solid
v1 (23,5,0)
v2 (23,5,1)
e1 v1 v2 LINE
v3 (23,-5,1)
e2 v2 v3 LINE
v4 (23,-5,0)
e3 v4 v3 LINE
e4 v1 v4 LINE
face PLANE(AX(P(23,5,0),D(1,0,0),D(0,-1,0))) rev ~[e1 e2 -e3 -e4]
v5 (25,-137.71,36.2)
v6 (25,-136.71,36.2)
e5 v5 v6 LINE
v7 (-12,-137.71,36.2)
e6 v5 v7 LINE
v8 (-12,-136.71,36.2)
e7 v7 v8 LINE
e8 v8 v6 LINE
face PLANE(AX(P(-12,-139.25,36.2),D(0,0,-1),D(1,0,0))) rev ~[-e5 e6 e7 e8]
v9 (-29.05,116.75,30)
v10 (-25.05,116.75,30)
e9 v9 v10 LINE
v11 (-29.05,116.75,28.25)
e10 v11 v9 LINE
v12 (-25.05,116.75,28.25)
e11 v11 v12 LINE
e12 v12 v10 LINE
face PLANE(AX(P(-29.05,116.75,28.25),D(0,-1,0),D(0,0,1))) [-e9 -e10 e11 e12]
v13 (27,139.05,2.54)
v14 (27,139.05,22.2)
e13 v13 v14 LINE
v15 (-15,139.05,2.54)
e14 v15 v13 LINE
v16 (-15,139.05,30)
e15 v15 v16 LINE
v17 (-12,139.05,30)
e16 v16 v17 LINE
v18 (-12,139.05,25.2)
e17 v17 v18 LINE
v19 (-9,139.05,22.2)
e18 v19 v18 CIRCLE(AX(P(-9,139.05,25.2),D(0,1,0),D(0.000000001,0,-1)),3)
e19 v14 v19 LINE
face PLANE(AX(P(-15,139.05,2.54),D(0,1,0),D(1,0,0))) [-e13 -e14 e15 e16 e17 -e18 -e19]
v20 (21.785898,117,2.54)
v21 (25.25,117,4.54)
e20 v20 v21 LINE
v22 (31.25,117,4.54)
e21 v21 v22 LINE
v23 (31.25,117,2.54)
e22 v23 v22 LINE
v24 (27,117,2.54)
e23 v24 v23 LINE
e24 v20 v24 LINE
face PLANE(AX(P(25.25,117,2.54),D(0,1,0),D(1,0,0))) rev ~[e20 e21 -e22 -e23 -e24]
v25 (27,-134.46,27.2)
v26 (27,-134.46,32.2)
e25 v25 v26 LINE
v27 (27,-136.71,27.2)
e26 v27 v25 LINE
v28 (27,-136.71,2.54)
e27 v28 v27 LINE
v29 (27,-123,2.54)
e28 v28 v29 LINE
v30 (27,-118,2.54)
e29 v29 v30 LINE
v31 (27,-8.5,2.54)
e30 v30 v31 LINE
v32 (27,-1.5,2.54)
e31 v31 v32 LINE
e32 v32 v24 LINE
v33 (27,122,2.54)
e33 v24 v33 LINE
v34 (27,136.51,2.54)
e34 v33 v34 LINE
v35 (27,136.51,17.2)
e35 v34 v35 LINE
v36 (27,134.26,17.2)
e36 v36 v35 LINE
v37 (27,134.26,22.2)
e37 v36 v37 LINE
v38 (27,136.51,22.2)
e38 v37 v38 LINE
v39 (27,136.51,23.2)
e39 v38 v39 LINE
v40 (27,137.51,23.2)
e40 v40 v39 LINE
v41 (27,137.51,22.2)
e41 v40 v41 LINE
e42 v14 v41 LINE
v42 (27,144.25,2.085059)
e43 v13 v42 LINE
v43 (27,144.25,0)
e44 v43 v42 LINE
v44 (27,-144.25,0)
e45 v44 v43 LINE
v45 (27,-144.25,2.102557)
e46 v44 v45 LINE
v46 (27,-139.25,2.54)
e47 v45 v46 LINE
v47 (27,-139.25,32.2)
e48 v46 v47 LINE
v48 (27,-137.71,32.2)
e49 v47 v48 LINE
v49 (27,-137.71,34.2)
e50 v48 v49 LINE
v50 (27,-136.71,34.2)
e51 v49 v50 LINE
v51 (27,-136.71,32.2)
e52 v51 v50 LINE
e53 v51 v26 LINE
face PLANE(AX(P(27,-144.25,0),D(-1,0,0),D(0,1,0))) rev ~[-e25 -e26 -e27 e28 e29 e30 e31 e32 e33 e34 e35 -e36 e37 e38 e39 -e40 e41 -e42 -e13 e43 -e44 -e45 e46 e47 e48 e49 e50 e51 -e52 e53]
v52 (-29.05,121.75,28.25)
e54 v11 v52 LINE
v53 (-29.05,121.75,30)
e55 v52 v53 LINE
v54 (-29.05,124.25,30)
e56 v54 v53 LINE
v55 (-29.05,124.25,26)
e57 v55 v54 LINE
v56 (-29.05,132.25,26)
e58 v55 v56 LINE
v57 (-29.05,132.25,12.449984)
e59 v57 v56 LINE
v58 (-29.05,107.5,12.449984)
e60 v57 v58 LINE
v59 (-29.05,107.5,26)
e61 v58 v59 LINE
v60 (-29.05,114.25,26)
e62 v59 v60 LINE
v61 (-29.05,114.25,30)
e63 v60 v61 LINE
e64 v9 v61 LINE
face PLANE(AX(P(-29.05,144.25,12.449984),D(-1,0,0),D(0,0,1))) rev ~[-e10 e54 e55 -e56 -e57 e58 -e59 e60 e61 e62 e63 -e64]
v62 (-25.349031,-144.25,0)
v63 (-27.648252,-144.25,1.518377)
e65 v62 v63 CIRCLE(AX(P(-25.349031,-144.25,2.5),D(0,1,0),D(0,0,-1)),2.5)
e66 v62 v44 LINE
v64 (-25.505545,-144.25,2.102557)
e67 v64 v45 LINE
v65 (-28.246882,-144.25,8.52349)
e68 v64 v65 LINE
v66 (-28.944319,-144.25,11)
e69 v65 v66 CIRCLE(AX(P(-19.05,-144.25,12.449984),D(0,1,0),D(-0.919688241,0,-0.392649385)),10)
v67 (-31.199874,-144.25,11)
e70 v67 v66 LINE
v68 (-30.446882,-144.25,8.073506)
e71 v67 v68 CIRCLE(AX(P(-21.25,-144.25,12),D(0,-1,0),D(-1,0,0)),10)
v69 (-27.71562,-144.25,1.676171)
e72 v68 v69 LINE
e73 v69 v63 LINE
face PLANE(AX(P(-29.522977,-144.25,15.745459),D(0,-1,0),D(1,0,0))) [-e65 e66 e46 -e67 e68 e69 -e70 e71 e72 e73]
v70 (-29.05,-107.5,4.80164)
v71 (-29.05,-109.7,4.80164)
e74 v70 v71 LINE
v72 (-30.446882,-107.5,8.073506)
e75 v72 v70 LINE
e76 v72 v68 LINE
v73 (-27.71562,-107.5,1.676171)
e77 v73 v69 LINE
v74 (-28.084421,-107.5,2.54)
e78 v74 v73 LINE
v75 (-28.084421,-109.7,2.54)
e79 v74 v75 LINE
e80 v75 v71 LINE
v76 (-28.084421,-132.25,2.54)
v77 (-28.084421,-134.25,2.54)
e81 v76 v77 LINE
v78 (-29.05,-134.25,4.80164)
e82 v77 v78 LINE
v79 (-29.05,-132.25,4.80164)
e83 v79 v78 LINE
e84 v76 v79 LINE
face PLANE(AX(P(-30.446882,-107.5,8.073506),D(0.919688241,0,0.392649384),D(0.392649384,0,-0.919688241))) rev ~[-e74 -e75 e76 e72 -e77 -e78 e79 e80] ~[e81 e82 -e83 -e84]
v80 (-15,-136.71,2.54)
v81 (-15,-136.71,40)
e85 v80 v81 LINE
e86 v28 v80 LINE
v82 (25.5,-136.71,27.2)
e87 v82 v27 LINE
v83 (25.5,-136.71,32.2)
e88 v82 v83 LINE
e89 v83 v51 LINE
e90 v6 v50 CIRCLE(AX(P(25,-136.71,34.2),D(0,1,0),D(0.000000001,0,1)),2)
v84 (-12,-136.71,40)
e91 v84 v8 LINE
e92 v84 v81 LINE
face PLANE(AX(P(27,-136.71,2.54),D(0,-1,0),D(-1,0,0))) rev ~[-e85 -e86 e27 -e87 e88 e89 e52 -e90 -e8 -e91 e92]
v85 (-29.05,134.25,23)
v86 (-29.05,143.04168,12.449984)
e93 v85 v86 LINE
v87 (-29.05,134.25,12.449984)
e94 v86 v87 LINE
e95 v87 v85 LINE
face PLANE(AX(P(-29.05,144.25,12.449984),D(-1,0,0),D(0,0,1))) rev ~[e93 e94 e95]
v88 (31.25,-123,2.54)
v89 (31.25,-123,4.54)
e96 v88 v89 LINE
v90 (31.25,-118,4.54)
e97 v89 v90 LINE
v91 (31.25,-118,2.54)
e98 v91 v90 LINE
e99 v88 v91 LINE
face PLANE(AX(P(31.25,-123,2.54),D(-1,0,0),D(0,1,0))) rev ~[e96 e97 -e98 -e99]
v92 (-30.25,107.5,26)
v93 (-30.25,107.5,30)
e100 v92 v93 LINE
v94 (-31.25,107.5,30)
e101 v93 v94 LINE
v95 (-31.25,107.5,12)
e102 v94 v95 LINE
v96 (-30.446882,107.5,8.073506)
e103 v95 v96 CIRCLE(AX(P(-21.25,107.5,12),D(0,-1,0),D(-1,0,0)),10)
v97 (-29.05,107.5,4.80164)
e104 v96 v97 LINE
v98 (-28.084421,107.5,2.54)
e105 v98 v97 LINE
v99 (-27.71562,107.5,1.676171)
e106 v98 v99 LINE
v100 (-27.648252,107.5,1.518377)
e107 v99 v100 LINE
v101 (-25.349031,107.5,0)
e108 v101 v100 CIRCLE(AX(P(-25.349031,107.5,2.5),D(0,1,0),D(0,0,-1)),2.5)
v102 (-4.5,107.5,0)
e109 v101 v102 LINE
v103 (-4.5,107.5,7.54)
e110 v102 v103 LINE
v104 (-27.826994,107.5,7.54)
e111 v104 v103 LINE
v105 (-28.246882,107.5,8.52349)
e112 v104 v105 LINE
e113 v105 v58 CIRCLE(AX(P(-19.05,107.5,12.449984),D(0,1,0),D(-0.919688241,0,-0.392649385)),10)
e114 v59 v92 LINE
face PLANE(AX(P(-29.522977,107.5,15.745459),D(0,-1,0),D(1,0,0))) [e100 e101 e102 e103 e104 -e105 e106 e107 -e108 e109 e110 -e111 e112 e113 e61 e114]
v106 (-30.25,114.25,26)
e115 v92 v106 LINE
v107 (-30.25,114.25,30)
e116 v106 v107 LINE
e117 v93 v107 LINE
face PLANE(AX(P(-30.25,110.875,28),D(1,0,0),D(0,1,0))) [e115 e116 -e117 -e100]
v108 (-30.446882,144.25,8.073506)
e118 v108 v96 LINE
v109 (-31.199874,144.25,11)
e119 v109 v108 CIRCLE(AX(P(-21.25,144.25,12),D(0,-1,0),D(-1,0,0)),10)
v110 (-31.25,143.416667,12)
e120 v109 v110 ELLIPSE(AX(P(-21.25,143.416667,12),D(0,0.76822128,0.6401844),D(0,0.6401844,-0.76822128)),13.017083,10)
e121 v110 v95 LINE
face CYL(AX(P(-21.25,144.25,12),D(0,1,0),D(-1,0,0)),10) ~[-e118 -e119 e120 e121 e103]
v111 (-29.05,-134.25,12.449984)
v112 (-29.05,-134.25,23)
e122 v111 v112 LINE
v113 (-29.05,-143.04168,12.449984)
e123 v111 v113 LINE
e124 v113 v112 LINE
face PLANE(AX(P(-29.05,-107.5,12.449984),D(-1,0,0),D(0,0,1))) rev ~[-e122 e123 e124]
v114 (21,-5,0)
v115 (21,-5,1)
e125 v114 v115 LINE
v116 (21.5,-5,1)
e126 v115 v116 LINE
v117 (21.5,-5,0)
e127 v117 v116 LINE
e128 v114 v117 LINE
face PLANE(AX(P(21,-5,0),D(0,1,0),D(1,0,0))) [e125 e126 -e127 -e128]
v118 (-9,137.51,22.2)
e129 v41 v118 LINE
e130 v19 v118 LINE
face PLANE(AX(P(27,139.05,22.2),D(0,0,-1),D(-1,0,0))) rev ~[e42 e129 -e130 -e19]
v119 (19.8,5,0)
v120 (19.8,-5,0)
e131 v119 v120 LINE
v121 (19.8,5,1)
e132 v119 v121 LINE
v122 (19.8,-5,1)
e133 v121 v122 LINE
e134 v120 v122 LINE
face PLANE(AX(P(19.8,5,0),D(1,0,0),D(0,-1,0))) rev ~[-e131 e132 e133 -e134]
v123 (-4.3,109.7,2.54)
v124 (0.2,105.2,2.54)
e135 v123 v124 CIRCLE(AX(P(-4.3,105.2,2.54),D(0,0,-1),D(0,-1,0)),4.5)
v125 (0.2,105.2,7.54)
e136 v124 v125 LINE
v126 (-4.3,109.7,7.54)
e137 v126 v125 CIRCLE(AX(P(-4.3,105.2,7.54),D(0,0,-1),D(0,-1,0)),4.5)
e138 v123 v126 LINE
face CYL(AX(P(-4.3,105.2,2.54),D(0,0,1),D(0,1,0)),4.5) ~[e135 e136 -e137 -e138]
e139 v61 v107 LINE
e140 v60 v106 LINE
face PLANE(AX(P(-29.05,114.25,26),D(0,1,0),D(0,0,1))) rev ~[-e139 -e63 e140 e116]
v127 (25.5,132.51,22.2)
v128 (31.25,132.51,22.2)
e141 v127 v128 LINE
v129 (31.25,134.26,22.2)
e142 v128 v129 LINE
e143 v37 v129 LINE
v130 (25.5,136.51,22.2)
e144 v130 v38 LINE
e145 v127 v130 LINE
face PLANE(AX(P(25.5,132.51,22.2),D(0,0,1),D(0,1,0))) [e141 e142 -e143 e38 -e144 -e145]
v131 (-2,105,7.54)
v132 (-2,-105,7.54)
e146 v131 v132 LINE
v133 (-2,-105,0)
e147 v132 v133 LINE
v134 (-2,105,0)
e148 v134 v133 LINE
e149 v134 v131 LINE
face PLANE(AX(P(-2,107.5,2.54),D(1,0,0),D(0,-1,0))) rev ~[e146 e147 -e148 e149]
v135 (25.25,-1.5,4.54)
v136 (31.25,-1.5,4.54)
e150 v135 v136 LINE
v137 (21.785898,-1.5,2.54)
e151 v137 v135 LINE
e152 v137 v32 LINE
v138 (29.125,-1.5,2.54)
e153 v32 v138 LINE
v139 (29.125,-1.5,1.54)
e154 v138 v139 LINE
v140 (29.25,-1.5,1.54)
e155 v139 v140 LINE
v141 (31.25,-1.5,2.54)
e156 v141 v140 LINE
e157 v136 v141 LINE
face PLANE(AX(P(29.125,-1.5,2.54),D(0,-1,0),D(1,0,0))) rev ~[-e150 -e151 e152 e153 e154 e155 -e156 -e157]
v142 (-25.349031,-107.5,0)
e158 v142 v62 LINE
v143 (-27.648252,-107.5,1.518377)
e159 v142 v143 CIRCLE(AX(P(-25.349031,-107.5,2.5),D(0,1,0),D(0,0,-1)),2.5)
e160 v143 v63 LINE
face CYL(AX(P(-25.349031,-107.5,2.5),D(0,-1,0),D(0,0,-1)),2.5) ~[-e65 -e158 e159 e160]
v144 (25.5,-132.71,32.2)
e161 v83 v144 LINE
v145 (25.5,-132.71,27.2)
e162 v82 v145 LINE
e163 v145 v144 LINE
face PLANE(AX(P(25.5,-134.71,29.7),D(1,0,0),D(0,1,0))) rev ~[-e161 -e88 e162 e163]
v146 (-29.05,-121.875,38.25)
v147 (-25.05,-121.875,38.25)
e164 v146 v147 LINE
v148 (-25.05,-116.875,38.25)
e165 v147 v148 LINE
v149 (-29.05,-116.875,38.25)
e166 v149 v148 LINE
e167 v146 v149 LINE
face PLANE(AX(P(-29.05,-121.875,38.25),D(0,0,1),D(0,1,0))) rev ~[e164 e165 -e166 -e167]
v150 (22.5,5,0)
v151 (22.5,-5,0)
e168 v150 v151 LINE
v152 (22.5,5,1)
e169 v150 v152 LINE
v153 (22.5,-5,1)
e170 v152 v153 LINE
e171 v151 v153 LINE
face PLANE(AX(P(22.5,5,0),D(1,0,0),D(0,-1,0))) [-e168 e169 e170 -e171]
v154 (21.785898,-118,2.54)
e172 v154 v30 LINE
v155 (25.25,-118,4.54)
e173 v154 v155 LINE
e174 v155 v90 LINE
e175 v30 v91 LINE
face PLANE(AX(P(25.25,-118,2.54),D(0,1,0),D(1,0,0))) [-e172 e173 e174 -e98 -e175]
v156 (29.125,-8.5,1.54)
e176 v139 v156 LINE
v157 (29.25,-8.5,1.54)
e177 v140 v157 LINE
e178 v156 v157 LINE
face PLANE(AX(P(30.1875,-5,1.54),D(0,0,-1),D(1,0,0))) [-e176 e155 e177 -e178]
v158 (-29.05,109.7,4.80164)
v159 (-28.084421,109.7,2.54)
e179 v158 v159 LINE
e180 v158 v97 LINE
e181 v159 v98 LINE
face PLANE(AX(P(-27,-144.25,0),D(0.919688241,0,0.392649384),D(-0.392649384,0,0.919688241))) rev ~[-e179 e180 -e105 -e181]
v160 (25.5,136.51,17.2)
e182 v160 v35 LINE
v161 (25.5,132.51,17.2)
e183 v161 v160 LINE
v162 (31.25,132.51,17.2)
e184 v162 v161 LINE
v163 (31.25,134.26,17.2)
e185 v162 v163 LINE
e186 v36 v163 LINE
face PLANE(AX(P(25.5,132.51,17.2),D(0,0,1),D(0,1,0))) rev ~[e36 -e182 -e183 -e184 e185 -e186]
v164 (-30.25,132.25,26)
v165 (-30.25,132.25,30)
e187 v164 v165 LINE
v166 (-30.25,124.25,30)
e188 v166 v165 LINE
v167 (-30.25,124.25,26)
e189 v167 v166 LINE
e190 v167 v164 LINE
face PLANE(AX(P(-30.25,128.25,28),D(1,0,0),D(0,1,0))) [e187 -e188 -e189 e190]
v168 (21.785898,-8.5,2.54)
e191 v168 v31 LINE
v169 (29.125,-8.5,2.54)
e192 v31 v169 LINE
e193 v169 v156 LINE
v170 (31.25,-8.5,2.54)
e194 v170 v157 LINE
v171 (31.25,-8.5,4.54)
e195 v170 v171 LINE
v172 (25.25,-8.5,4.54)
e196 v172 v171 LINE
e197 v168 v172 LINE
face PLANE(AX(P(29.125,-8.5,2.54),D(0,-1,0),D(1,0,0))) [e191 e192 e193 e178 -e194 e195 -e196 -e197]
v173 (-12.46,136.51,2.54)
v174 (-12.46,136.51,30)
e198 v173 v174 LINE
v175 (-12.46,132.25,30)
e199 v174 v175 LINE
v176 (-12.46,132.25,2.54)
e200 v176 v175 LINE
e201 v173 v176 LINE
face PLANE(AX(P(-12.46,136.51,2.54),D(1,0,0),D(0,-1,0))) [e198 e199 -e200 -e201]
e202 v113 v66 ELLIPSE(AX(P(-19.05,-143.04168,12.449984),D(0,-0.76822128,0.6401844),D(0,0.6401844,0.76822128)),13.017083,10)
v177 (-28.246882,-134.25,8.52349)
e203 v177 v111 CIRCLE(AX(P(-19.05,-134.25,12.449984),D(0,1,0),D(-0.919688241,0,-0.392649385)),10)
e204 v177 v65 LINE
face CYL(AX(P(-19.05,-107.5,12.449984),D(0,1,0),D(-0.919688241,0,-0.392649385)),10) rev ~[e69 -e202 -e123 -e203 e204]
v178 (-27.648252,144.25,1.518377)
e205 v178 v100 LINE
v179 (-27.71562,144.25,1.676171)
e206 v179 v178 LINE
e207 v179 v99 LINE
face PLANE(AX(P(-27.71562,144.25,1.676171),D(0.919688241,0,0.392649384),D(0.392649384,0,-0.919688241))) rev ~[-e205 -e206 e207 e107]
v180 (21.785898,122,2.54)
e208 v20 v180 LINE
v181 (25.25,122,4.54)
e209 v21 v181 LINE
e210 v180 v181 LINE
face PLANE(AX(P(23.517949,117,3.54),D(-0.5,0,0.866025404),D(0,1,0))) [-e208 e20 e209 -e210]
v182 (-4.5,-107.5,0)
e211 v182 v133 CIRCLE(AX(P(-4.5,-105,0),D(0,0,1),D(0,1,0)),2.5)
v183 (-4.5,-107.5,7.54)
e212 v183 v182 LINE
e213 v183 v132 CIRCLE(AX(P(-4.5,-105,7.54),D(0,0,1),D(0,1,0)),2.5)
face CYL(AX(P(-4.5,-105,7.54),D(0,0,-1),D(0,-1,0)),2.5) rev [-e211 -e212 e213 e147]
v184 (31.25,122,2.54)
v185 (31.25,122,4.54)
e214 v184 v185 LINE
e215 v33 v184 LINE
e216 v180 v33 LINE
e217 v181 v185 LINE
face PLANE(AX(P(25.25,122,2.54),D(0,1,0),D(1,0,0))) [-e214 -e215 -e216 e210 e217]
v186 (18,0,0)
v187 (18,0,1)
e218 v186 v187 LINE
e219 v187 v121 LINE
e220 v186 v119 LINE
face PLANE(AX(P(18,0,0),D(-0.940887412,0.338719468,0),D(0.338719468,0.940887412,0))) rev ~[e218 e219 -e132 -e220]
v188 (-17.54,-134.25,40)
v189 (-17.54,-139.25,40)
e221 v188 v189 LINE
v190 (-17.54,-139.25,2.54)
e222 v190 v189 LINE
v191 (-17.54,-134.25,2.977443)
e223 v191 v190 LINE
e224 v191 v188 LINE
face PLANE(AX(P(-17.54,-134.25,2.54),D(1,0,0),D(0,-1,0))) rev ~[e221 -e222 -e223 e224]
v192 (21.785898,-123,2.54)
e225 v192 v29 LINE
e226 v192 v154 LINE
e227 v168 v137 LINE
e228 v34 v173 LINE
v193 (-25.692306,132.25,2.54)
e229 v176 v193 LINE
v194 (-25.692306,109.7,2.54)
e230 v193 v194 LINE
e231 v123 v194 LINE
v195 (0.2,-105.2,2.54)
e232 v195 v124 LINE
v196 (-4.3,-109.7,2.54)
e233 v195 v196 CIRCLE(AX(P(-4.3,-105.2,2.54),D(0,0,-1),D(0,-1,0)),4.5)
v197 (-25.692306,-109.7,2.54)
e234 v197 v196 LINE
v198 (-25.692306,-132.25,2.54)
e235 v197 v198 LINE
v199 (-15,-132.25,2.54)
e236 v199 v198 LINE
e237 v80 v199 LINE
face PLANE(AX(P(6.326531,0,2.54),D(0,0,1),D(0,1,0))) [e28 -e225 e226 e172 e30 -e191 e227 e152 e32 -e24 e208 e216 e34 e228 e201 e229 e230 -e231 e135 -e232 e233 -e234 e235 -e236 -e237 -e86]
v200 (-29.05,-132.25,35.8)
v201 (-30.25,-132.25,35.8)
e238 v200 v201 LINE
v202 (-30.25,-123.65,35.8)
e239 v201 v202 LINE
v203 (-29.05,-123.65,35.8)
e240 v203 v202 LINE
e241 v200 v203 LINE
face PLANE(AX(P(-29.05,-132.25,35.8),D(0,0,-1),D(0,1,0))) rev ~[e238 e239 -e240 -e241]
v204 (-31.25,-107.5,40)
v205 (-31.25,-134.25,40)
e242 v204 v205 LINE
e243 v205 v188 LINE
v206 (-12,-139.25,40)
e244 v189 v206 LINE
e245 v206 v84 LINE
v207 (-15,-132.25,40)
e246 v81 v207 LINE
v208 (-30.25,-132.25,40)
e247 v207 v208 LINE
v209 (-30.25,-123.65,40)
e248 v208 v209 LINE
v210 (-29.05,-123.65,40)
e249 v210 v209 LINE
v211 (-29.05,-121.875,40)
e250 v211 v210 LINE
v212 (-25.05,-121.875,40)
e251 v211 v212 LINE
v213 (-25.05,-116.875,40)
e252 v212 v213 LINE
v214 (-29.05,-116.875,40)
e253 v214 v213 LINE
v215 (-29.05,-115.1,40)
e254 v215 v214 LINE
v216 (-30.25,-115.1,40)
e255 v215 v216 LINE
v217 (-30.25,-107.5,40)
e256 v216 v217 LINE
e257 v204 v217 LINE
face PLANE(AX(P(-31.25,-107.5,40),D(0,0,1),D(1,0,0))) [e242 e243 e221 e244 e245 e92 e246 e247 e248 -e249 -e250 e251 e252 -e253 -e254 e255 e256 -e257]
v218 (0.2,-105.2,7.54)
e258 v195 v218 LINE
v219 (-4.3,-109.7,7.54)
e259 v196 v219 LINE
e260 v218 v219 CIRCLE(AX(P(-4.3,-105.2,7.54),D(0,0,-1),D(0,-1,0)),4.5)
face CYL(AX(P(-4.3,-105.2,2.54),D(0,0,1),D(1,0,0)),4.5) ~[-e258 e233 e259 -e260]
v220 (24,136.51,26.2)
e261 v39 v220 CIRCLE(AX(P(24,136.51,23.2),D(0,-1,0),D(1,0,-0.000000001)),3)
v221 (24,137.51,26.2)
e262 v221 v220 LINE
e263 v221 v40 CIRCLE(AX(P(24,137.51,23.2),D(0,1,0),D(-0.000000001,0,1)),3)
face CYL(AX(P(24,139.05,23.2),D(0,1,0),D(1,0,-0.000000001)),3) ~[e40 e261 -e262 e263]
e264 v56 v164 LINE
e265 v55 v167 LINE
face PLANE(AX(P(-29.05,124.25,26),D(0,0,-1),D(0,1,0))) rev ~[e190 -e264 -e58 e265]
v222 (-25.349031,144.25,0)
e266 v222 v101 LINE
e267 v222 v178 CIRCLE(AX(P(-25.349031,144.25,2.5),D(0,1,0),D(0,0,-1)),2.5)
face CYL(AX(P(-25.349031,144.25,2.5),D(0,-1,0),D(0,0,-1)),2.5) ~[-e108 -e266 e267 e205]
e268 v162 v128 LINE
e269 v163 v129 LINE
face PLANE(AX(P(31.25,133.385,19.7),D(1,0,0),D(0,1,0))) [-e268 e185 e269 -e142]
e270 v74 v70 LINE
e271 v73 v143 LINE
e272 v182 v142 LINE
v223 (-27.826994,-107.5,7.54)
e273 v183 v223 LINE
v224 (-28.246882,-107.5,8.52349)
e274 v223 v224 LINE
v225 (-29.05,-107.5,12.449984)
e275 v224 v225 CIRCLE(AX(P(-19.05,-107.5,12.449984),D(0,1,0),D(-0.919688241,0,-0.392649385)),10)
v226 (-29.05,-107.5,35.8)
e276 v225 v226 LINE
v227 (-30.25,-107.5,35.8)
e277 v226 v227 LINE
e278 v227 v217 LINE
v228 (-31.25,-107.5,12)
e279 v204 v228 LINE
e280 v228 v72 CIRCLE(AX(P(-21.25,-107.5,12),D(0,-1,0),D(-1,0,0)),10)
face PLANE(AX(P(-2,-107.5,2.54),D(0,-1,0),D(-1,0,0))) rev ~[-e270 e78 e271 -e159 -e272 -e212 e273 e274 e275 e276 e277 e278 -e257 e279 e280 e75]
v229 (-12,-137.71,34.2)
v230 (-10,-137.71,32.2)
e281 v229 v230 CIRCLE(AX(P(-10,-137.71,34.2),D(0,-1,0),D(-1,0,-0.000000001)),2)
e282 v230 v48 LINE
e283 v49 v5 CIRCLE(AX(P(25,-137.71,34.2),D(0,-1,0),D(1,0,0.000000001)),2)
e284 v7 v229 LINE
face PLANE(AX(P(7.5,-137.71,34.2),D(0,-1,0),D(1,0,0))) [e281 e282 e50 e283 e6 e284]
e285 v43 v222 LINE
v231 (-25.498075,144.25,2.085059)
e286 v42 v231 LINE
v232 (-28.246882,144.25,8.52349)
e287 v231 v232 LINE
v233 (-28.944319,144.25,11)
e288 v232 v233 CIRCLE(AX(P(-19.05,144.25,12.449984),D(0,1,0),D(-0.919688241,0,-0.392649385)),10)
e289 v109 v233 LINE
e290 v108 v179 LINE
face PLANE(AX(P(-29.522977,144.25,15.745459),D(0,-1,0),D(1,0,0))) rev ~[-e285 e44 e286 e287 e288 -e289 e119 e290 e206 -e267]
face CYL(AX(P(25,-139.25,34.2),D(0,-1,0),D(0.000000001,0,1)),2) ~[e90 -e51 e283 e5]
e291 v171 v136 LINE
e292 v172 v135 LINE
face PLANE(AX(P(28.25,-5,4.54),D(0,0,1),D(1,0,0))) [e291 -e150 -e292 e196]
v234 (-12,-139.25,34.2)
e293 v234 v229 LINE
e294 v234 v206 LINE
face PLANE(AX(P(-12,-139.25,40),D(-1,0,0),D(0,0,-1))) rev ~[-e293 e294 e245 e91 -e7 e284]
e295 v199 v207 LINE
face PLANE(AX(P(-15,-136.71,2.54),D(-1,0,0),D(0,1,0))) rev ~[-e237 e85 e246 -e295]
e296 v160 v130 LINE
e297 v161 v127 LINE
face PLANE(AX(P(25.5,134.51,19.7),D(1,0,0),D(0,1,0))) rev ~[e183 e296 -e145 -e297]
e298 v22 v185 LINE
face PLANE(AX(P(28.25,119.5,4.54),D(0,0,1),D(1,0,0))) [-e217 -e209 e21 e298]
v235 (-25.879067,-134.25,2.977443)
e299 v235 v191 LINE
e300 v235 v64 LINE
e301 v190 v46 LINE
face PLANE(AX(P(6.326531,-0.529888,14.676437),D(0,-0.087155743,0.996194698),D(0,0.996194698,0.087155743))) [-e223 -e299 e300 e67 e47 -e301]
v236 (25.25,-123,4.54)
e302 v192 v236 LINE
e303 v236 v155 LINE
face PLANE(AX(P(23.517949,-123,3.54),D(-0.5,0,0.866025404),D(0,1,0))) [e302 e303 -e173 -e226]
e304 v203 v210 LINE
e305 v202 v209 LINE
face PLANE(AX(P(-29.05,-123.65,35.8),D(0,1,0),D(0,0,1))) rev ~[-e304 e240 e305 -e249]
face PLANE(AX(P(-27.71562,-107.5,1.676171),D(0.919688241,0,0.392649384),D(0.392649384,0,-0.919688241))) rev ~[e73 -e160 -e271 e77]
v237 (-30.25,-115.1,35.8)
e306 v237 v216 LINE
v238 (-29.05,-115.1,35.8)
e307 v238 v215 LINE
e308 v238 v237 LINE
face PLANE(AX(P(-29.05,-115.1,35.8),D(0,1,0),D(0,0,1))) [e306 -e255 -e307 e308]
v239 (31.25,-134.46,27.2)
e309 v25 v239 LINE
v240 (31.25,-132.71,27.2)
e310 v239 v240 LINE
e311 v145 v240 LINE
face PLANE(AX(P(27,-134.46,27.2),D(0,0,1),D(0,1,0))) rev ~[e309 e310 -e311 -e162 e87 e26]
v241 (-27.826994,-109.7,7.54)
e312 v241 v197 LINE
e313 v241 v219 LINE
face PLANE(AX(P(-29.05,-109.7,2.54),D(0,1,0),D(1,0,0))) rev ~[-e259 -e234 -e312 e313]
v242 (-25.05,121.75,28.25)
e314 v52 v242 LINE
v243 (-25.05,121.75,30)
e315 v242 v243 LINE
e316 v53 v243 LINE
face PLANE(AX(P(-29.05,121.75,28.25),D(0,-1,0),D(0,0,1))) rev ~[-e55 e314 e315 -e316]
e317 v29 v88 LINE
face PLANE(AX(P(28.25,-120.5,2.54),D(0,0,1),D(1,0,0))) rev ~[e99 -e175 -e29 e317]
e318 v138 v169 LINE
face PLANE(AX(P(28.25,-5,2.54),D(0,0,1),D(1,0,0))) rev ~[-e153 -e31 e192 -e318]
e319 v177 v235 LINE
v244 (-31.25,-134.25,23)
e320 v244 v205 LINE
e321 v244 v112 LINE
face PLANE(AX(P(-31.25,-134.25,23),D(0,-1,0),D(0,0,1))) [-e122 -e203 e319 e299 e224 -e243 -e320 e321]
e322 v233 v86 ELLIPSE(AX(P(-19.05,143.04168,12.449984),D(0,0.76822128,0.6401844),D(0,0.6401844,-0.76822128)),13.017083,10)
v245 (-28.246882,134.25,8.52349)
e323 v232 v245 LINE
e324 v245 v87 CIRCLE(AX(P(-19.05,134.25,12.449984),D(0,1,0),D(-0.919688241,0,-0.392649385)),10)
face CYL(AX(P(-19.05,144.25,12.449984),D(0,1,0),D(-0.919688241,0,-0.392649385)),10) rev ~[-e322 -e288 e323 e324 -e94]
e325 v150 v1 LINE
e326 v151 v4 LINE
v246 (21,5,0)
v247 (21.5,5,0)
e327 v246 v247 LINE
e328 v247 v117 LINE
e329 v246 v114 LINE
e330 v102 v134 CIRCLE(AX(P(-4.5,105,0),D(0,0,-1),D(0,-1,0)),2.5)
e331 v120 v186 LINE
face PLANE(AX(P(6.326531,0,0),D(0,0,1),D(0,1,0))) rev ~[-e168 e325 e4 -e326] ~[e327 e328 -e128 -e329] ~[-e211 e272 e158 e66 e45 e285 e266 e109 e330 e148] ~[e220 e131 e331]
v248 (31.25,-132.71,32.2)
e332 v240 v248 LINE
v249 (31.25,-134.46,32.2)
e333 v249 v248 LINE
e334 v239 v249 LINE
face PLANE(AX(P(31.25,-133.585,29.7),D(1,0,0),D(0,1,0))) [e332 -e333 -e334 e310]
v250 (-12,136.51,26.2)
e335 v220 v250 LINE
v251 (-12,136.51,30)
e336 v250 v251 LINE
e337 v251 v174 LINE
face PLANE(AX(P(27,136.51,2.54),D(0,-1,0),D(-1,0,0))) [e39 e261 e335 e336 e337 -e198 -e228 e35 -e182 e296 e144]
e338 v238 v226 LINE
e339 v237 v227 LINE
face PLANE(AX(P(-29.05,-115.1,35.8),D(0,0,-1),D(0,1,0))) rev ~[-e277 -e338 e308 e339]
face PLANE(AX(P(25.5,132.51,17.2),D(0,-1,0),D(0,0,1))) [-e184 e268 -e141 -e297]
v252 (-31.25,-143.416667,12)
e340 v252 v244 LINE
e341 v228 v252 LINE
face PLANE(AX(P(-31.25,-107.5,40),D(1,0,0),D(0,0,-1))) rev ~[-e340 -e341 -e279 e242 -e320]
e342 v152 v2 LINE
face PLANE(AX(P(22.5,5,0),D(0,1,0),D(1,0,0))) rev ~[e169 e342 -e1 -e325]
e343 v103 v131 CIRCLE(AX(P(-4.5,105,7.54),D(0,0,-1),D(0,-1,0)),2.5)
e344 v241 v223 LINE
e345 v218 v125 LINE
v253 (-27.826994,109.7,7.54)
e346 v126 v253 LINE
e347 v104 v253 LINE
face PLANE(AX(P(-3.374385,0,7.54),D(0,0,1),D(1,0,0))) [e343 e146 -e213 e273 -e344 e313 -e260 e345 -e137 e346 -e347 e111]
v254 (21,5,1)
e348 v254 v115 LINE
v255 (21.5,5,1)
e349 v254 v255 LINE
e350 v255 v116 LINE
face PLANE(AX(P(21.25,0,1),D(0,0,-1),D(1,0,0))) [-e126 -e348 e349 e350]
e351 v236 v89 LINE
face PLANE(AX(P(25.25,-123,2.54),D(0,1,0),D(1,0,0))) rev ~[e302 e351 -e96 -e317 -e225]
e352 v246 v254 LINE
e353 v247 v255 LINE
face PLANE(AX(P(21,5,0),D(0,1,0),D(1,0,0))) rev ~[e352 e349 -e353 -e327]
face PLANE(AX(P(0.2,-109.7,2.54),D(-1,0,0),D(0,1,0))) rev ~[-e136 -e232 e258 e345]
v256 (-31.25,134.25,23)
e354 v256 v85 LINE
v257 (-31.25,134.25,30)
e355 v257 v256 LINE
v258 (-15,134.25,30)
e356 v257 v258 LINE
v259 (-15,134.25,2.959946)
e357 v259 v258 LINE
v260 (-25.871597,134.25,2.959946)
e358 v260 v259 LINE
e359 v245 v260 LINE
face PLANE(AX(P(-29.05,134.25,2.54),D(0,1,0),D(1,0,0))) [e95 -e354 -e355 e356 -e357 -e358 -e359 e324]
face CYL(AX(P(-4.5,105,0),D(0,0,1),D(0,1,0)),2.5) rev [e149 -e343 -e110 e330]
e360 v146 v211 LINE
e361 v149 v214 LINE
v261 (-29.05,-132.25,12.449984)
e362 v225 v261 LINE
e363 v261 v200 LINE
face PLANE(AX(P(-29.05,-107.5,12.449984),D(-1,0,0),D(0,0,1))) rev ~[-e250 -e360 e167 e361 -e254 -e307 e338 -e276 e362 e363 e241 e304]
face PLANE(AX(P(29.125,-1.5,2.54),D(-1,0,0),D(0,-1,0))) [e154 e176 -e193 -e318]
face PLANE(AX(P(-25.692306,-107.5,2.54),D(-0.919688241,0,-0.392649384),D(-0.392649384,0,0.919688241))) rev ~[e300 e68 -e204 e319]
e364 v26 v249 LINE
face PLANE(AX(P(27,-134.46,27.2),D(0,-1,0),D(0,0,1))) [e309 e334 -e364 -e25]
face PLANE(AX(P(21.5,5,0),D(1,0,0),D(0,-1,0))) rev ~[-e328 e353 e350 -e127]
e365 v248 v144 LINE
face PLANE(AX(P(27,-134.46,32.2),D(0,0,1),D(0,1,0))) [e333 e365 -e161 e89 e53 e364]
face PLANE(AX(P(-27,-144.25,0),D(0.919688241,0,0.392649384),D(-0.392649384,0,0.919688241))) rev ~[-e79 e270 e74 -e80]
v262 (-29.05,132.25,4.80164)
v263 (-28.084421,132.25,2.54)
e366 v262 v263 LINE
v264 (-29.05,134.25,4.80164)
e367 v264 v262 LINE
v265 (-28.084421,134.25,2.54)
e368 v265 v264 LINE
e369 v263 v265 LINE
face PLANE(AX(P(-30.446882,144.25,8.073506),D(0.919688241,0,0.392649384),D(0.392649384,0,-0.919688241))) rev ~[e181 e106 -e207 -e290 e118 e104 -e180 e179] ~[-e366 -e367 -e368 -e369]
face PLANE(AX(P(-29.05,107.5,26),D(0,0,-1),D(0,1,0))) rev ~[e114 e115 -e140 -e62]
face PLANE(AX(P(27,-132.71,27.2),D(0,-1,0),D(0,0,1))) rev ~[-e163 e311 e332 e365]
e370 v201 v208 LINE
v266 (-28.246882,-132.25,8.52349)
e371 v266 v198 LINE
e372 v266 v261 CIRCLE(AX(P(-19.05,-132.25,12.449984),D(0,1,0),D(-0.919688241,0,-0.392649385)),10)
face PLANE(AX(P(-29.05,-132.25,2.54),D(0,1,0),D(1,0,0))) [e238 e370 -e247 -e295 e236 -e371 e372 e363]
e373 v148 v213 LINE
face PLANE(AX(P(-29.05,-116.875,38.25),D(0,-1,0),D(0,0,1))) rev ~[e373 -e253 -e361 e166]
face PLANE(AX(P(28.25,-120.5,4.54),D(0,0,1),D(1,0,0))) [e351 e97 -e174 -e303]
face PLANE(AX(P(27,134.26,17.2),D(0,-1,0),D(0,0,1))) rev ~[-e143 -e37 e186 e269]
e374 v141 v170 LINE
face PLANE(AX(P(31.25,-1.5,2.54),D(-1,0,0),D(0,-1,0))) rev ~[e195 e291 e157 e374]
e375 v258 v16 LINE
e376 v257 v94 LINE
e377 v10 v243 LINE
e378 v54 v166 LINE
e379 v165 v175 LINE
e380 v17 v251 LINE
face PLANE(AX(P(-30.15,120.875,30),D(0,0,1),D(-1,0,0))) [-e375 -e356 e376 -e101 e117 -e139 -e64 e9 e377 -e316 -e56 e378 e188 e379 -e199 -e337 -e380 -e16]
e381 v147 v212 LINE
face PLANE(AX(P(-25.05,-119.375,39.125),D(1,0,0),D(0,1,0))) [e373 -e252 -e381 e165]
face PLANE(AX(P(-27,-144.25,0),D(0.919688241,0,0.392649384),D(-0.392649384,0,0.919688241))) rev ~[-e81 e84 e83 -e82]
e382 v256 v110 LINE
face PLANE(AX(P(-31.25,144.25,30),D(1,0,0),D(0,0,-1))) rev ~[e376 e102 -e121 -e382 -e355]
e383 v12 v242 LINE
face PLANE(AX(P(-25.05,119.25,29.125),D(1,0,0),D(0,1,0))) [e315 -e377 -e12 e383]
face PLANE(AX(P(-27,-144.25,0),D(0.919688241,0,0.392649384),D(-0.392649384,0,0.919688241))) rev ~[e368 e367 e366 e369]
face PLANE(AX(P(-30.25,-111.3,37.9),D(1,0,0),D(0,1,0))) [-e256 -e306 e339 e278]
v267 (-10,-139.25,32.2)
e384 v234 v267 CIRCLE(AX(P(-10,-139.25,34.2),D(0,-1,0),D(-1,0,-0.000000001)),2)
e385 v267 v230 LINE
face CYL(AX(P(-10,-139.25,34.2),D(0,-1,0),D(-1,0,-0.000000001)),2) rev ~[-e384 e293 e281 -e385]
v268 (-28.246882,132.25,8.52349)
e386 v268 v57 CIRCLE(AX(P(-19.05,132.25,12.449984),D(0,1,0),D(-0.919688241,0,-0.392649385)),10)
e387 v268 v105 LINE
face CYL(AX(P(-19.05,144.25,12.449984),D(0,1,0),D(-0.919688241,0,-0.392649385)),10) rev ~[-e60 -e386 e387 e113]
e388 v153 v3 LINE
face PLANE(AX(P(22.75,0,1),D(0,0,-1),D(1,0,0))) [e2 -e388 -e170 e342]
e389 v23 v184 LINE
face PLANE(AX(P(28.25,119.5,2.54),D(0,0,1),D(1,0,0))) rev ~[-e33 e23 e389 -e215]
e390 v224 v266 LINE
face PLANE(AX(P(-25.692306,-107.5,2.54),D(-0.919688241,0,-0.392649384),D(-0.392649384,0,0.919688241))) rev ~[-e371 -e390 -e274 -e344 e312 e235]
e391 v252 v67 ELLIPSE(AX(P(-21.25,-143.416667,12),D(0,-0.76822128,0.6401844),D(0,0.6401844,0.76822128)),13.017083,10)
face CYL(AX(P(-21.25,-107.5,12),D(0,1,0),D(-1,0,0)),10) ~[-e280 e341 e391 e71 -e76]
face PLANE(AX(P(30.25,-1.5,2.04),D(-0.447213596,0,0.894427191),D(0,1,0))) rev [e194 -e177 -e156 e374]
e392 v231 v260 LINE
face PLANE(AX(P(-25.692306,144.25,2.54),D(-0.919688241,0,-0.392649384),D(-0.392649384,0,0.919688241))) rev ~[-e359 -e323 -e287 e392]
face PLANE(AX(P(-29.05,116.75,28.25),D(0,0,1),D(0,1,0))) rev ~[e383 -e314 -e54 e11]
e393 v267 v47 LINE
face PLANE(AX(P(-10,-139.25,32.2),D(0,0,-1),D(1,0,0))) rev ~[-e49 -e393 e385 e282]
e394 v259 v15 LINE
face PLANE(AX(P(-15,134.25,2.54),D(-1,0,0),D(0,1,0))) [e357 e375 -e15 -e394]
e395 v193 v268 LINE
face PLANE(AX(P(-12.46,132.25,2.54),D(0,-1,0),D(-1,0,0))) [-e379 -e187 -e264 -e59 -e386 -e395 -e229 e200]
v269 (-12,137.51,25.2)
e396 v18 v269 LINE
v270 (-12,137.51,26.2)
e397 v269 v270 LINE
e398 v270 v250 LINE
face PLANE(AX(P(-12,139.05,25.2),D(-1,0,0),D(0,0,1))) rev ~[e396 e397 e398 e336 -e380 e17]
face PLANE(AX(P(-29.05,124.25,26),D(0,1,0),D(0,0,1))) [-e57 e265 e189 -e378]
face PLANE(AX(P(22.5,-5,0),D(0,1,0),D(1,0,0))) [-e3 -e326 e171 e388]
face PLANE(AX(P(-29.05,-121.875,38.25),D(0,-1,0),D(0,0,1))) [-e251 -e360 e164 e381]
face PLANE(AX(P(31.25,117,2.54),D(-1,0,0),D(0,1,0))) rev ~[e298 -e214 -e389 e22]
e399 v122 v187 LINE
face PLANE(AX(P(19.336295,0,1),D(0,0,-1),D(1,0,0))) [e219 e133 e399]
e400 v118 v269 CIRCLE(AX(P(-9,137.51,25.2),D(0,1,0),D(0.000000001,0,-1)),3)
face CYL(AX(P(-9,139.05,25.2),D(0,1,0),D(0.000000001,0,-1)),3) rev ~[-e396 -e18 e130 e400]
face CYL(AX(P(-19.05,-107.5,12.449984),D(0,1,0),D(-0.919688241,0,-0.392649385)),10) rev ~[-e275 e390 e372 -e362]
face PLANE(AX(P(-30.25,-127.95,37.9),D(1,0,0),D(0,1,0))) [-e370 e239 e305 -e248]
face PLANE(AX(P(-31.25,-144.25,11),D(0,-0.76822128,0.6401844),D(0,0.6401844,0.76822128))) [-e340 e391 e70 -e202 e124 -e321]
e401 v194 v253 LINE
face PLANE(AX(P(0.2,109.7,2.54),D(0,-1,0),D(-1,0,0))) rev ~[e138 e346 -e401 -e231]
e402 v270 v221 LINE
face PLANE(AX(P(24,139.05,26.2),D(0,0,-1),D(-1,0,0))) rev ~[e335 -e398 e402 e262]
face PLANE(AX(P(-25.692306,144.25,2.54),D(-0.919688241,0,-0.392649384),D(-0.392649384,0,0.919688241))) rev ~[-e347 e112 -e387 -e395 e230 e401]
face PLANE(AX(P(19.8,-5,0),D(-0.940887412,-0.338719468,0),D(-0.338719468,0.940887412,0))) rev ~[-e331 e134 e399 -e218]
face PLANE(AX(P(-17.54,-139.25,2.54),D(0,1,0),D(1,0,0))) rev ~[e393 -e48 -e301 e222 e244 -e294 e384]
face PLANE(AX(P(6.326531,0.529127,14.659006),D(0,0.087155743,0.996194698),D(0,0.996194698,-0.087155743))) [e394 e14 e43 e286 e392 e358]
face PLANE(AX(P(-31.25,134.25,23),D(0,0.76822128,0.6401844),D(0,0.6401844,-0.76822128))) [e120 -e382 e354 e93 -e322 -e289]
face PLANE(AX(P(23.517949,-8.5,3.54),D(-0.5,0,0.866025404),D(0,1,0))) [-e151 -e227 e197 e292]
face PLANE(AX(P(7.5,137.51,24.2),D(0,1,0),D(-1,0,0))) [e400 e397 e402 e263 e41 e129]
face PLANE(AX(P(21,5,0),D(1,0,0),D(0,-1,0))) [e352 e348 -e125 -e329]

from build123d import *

# Parameters (mm, degrees)
BOSS_EXTRUDE1_DEPTH  = 2.54
BOSS_EXTRUDE2_START  = -288.5
BOSS_EXTRUDE2_DEPTH  = 36.75
BOSS_EXTRUDE3_START  = -36.75
SKETCH4_3_W          = 2.2
SKETCH4_3_H          = 10
BOSS_EXTRUDE3_DEPTH  = 36.75
CUT_EXTRUDE1_DEPTH   = 161.627285976
SKETCH2_W            = 3.357693748
SKETCH2_H            = 2.2
BOSS_EXTRUDE4_DEPTH  = 5
FILLET1_R            = 4.5
FILLET2_R            = 2.5
BOSS_EXTRUDE5_REACH  = 154.276
SKETCH2_3_W          = 3.357693748
SKETCH2_3_H          = 2
BOSS_EXTRUDE6_REACH  = 154.276
CUT_EXTRUDE8_DEPTH   = 293.931412621
FILLET3_R            = 2.5
CUT_EXTRUDE2_DEPTH   = 2.54
CUT_EXTRUDE3_DEPTH   = 1.54
CUT_EXTRUDE4_DEPTH   = 2.54
CUT_EXTRUDE5_DEPTH   = 1.54
SKETCH9_W            = 8.6
SKETCH9_H            = 4.2
SKETCH9_W_2          = 7.6
CUT_EXTRUDE6_DEPTH   = 1.2
SKETCH10_W           = 6.75
SKETCH10_H           = 4
SKETCH10_W_2         = 8
CUT_EXTRUDE7_DEPTH   = 1.2
SKETCH12_W           = 6
SKETCH12_H           = 5
SKETCH12_H_2         = 7
BOSS_EXTRUDE7_DEPTH  = 2
DRAFT1_ANGLE         = 60
SKETCH13_W           = 5
SKETCH13_H           = 1.75
BOSS_EXTRUDE8_DEPTH  = 4
SKETCH14_W           = 4
SKETCH14_H           = 5
BOSS_EXTRUDE9_DEPTH  = 1.5
SKETCH15_W           = 1.75
SKETCH15_H           = 5
BOSS_EXTRUDE10_DEPTH = 4.25
DRAFT2_ANGLE         = 5
DRAFT3_ANGLE         = 5
SKETCH16_W           = 2.125
SKETCH16_H           = 7
BOSS_EXTRUDE11_DEPTH = 1
CHAMFER1_SIZE        = 1
CHAMFER1_SIZE2       = 2
SKETCH17_W           = 0.5
SKETCH17_H           = 10
CUT_EXTRUDE9_DEPTH   = 1


with BuildPart() as part:
    # Sketch1 → Boss-Extrude1 (new body)
    with BuildSketch(Plane(origin=(0, 0, 0), x_dir=(0, 1, 0), z_dir=(0, 0, 1))):
        Polygon((-107.5, 27), (-144.25, 27), (-144.25, -27), (144.25, -27), (144.25, 27), (107.5, 27), (107.5, 2), (-107.5, 2), align=None)
    extrude(amount=BOSS_EXTRUDE1_DEPTH)

    # Sketch4 → Boss-Extrude2 (add)
    with BuildSketch(Plane.XZ.offset(144.25).offset(BOSS_EXTRUDE2_START)):
        with BuildLine():
            Line((-30.446882411, 8.073506155), (-27.715620382, 1.676171354))
            Line((-27.715620382, 1.676171354), (-27, 1.98169652))
            Line((-27, 1.98169652), (-27, 2.54))
            Line((-27, 2.54), (-25.692306252, 2.54))
            Line((-25.692306252, 2.54), (-28.246882411, 8.523489974))
            ThreePointArc((-28.246882411, 8.523489974), (-28.84716347, 10.446090622), (-29.05, 12.449983819))
            Line((-29.05, 12.449983819), (-29.05, 30))
            Line((-29.05, 30), (-31.25, 30))
            Line((-31.25, 30), (-31.25, 12))
            ThreePointArc((-31.25, 12), (-31.04716347, 9.996106803), (-30.446882411, 8.073506155))
        make_face()
        Polygon((-27.715620382, 1.676171354), (-27, 0), (-27, 1.98169652), align=None)
    extrude(amount=BOSS_EXTRUDE2_DEPTH)

    # Sketch4<3> → Boss-Extrude3 (add)
    with BuildSketch(Plane.XZ.offset(144.25).offset(BOSS_EXTRUDE3_START)):
        with BuildLine():
            Line((-30.446882411, 8.073506155), (-27.715620382, 1.676171354))
            Line((-27.715620382, 1.676171354), (-27, 1.98169652))
            Line((-27, 1.98169652), (-27, 2.54))
            Line((-27, 2.54), (-25.692306252, 2.54))
            Line((-25.692306252, 2.54), (-28.246882411, 8.523489974))
            ThreePointArc((-28.246882411, 8.523489974), (-28.84716347, 10.446090622), (-29.05, 12.449983819))
            Line((-29.05, 12.449983819), (-29.05, 30))
            Line((-29.05, 30), (-31.25, 30))
            Line((-31.25, 30), (-31.25, 12))
            ThreePointArc((-31.25, 12), (-31.04716347, 9.996106803), (-30.446882411, 8.073506155))
        make_face()
        with Locations((-30.15, 35)):
            Rectangle(SKETCH4_3_W, SKETCH4_3_H)
        Polygon((-27.715620382, 1.676171354), (-27, 0), (-27, 1.98169652), align=None)
    extrude(amount=BOSS_EXTRUDE3_DEPTH)

    # Sketch5 → Cut-Extrude1 (cut, through all)
    with BuildSketch(Plane(origin=(-31.25, 0, 0), x_dir=(0, -1, 0), z_dir=(-1, 0, 0))):
        Polygon((-134.25, 30), (-134.25, 23), (-144.25, 11), (-144.25, 30), align=None)
        Polygon((144.25, 11), (134.25, 23), (134.25, 40), (144.25, 40), align=None)
    extrude(amount=-CUT_EXTRUDE1_DEPTH, mode=Mode.SUBTRACT)

    # Sketch2 → Boss-Extrude4 (add)
    with BuildSketch(Plane.XY.offset(2.54)):
        Polygon((0.2, 109.7), (-25.692306252, 109.7), (-25.692306252, 107.5), (-2, 107.5), (-2, -107.5), (-25.692306252, -107.5), (-25.692306252, -109.7), (0.2, -109.7), align=None)
        with Locations((-27.371153126, -108.6)):
            Rectangle(SKETCH2_W, SKETCH2_H)
        with Locations((-27.371153126, 108.6)):
            Rectangle(SKETCH2_W, SKETCH2_H)
    extrude(amount=BOSS_EXTRUDE4_DEPTH)

    # Fillet1
    fillet1_edges = [part.edges().sort_by_distance(p)[0] for p in [
        (0.2, 109.7, 5.04),
        (0.2, -109.7, 5.04),
    ]]
    fillet(fillet1_edges, radius=FILLET1_R)

    # Fillet2
    fillet2_edges = [part.edges().sort_by_distance(p)[0] for p in [
        (-2, -107.5, 3.77),
        (-2, 107.5, 3.77),
    ]]
    fillet(fillet2_edges, radius=FILLET2_R)

    # Boss-Extrude5: up to this face of the body (flat: up to its plane)
    boss_extrude5_end = Plane(part.part.faces().sort_by_distance((-30.15, -120.875, 40))[0])
    # Sketch2<3> → Boss-Extrude5 (add, up to the picked face)
    with BuildSketch(Plane.XY.offset(2.54), mode=Mode.PRIVATE) as boss_extrude5_sk1:
        Polygon((27, -139.25), (27, -136.71), (-15, -136.71), (-15, -132.25), (-25.692306252, -132.25), (-25.692306252, -134.25), (-17.54, -134.25), (-17.54, -139.25), align=None)
    boss_extrude5_tool1 = split(extrude(boss_extrude5_sk1.sketch, amount=BOSS_EXTRUDE5_REACH, mode=Mode.PRIVATE), bisect_by=boss_extrude5_end, keep=Keep.BOTH, mode=Mode.PRIVATE)
    # Sketch2<3> → Boss-Extrude5 (add, up to the picked face)
    with BuildSketch(Plane.XY.offset(2.54), mode=Mode.PRIVATE) as boss_extrude5_sk2:
        with Locations((-27.371153126, -133.25)):
            Rectangle(SKETCH2_3_W, SKETCH2_3_H)
    boss_extrude5_tool2 = split(extrude(boss_extrude5_sk2.sketch, amount=BOSS_EXTRUDE5_REACH, mode=Mode.PRIVATE), bisect_by=boss_extrude5_end, keep=Keep.BOTH, mode=Mode.PRIVATE)
    add(boss_extrude5_tool1.solids().sort_by(Axis((-0.011676, -137.150458, 2.54), (0, 0, 1)))[0])
    add(boss_extrude5_tool2.solids().sort_by(Axis((-27.371153, -133.25, 2.54), (0, 0, 1)))[0])

    # Boss-Extrude6: up to this face of the body (flat: up to its plane)
    boss_extrude6_end = Plane(part.part.faces().sort_by_distance((-30.15, 120.875, 30))[0])
    # Sketch2<4> → Boss-Extrude6 (add, up to the picked face)
    with BuildSketch(Plane.XY.offset(2.54), mode=Mode.PRIVATE) as boss_extrude6_sk1:
        Polygon((-29.05, 134.25), (-15, 134.25), (-15, 139.05), (27, 139.05), (27, 136.51), (-12.46, 136.51), (-12.46, 132.25), (-29.05, 132.25), align=None)
    boss_extrude6_tool1 = split(extrude(boss_extrude6_sk1.sketch, amount=BOSS_EXTRUDE6_REACH, mode=Mode.PRIVATE), bisect_by=boss_extrude6_end, keep=Keep.BOTH, mode=Mode.PRIVATE)
    add(boss_extrude6_tool1.solids().sort_by(Axis((-0.874906, 136.653064, 2.54), (0, 0, 1)))[0])

    # Sketch11 → Cut-Extrude8 (cut, through all)
    with BuildSketch(Plane.XZ.offset(144.25)):
        Polygon((-27, 0), (-30.446882411, 8.073506155), (-30.446882411, 0), align=None)
    extrude(amount=-CUT_EXTRUDE8_DEPTH, mode=Mode.SUBTRACT)

    # Fillet3
    fillet3_edges = [part.edges().sort_by_distance(p)[0] for p in [
        (-27, 125.875, 0),
        (-27, -125.875, 0),
    ]]
    fillet(fillet3_edges, radius=FILLET3_R)

    # Sketch7 → Cut-Extrude2 (cut)
    with BuildSketch(Plane.XZ.offset(139.25)):
        with BuildLine():
            ThreePointArc((25, 36.2), (26.414213562, 35.614213562), (27, 34.2))
            Line((27, 34.2), (27, 36.2))
            Line((27, 36.2), (27, 40))
            Line((27, 40), (-12, 40))
            Line((-12, 40), (-12, 36.2))
            Line((-12, 36.2), (25, 36.2))
        make_face()
    extrude(amount=-CUT_EXTRUDE2_DEPTH, mode=Mode.SUBTRACT)

    # Sketch7<3> → Cut-Extrude3 (cut)
    with BuildSketch(Plane.XZ.offset(139.25)):
        with BuildLine():
            Line((-10, 32.2), (27, 32.2))
            Line((27, 32.2), (27, 34.2))
            ThreePointArc((27, 34.2), (26.414213562, 35.614213562), (25, 36.2))
            Line((25, 36.2), (-12, 36.2))
            Line((-12, 36.2), (-12, 34.2))
            ThreePointArc((-12, 34.2), (-11.414213562, 32.785786438), (-10, 32.2))
        make_face()
    extrude(amount=-CUT_EXTRUDE3_DEPTH, mode=Mode.SUBTRACT)

    # Sketch8 → Cut-Extrude4 (cut)
    with BuildSketch(Plane(origin=(0, 139.05, 0), x_dir=(-1, 0, 0), z_dir=(0, 1, 0))):
        with BuildLine():
            Line((12, 26.2), (12, 30))
            Line((12, 30), (-27, 30))
            Line((-27, 30), (-27, 23.2))
            ThreePointArc((-27, 23.2), (-26.121320344, 25.321320344), (-24, 26.2))
            Line((-24, 26.2), (12, 26.2))
        make_face()
    extrude(amount=-CUT_EXTRUDE4_DEPTH, mode=Mode.SUBTRACT)

    # Sketch8<3> → Cut-Extrude5 (cut)
    with BuildSketch(Plane(origin=(0, 139.05, 0), x_dir=(-1, 0, 0), z_dir=(0, 1, 0))):
        with BuildLine():
            Line((12, 25.2), (12, 26.2))
            Line((12, 26.2), (-24, 26.2))
            ThreePointArc((-24, 26.2), (-26.121320344, 25.321320344), (-27, 23.2))
            Line((-27, 23.2), (-27, 22.2))
            Line((-27, 22.2), (9, 22.2))
            ThreePointArc((9, 22.2), (11.121320344, 23.078679656), (12, 25.2))
        make_face()
    extrude(amount=-CUT_EXTRUDE5_DEPTH, mode=Mode.SUBTRACT)

    # Sketch9 → Cut-Extrude6 (cut)
    with BuildSketch(Plane.YZ.offset(-29.05)):
        with Locations((-127.95, 37.9)):
            Rectangle(SKETCH9_W, SKETCH9_H)
        with Locations((-111.3, 37.9)):
            Rectangle(SKETCH9_W_2, SKETCH9_H)
    extrude(amount=-CUT_EXTRUDE6_DEPTH, mode=Mode.SUBTRACT)

    # Sketch10 → Cut-Extrude7 (cut)
    with BuildSketch(Plane.YZ.offset(-29.05)):
        with Locations((110.875, 28)):
            Rectangle(SKETCH10_W, SKETCH10_H)
        with Locations((128.25, 28)):
            Rectangle(SKETCH10_W_2, SKETCH10_H)
    extrude(amount=-CUT_EXTRUDE7_DEPTH, mode=Mode.SUBTRACT)

    # Sketch12 → Boss-Extrude7 (add)
    with BuildSketch(Plane.XY.offset(2.54)):
        with Locations((28.25, -120.5)):
            Rectangle(SKETCH12_W, SKETCH12_H)
        with Locations((28.25, -5)):
            Rectangle(SKETCH12_W, SKETCH12_H_2)
        with Locations((28.25, 119.5)):
            Rectangle(SKETCH12_W, SKETCH12_H)
    extrude(amount=BOSS_EXTRUDE7_DEPTH)

    # Draft1
    draft1_faces = [part.faces().sort_by_distance(p)[0] for p in [
        (25.25, -120.5, 3.54),
        (25.25, -5, 3.54),
        (25.25, 119.5, 3.54),
    ]]
    draft(draft1_faces, Plane.XY.offset(4.54), DRAFT1_ANGLE)

    # Sketch13 → Boss-Extrude8 (add)
    with BuildSketch(Plane.YZ.offset(-29.05)):
        with Locations((-119.375, 39.125)):
            Rectangle(SKETCH13_W, SKETCH13_H)
        with Locations((119.25, 29.125)):
            Rectangle(SKETCH13_W, SKETCH13_H)
    extrude(amount=BOSS_EXTRUDE8_DEPTH)

    # Sketch14 → Boss-Extrude9 (add)
    with BuildSketch(Plane.YZ.offset(25.5)):
        with Locations((134.51, 19.7)):
            Rectangle(SKETCH14_W, SKETCH14_H)
        with Locations((-134.71, 29.7)):
            Rectangle(SKETCH14_W, SKETCH14_H)
    extrude(amount=BOSS_EXTRUDE9_DEPTH)

    # Sketch15 → Boss-Extrude10 (add)
    with BuildSketch(Plane.YZ.offset(27)):
        with Locations((-133.585, 29.7)):
            Rectangle(SKETCH15_W, SKETCH15_H)
        with Locations((133.385, 19.7)):
            Rectangle(SKETCH15_W, SKETCH15_H)
    extrude(amount=BOSS_EXTRUDE10_DEPTH)

    # Draft2
    draft2_faces = [part.faces().sort_by_distance(p)[0] for p in [
        (-2.659119817, 140.861198407, 2.54),
    ]]
    draft(draft2_faces, Plane(origin=(0, 139.05, 86.460982103), x_dir=(0, 0, 1), z_dir=(0, 1, 0)), DRAFT2_ANGLE)

    # Draft3
    draft3_faces = [part.faces().sort_by_distance(p)[0] for p in [
        (-2.330014026, -141.080071643, 2.54),
    ]]
    draft(draft3_faces, Plane(origin=(0, -139.25, 96.485418472), x_dir=(0, 0, -1), z_dir=(0, -1, 0)), DRAFT3_ANGLE)

    # Sketch16 → Boss-Extrude11 (add)
    with BuildSketch(Plane(origin=(0, 0, 2.54), x_dir=(1, 0, 0), z_dir=(0, 0, -1))):
        with Locations((30.1875, 5)):
            Rectangle(SKETCH16_W, SKETCH16_H)
    extrude(amount=BOSS_EXTRUDE11_DEPTH)

    # Chamfer1
    chamfer1_edges = [part.edges().sort_by_distance(p)[0] for p in [
        (31.25, -5, 1.54),
    ]]
    chamfer1_side = [part.faces().sort_by_distance(p)[0] for p in [
        (31.25, -5, 3.04),
    ]]
    chamfer(chamfer1_edges, length=CHAMFER1_SIZE, length2=CHAMFER1_SIZE2, reference=chamfer1_side[0])

    # Sketch17 → Cut-Extrude9 (cut)
    with BuildSketch(Plane(origin=(0, 0, 0), x_dir=(1, 0, 0), z_dir=(0, 0, -1))):
        Polygon((18, 0), (19.8, -5), (19.8, 5), align=None)
        with Locations((21.25, 0)):
            Rectangle(SKETCH17_W, SKETCH17_H)
        with Locations((22.75, 0)):
            Rectangle(SKETCH17_W, SKETCH17_H)
    extrude(amount=-CUT_EXTRUDE9_DEPTH, mode=Mode.SUBTRACT)


solid = part.part
